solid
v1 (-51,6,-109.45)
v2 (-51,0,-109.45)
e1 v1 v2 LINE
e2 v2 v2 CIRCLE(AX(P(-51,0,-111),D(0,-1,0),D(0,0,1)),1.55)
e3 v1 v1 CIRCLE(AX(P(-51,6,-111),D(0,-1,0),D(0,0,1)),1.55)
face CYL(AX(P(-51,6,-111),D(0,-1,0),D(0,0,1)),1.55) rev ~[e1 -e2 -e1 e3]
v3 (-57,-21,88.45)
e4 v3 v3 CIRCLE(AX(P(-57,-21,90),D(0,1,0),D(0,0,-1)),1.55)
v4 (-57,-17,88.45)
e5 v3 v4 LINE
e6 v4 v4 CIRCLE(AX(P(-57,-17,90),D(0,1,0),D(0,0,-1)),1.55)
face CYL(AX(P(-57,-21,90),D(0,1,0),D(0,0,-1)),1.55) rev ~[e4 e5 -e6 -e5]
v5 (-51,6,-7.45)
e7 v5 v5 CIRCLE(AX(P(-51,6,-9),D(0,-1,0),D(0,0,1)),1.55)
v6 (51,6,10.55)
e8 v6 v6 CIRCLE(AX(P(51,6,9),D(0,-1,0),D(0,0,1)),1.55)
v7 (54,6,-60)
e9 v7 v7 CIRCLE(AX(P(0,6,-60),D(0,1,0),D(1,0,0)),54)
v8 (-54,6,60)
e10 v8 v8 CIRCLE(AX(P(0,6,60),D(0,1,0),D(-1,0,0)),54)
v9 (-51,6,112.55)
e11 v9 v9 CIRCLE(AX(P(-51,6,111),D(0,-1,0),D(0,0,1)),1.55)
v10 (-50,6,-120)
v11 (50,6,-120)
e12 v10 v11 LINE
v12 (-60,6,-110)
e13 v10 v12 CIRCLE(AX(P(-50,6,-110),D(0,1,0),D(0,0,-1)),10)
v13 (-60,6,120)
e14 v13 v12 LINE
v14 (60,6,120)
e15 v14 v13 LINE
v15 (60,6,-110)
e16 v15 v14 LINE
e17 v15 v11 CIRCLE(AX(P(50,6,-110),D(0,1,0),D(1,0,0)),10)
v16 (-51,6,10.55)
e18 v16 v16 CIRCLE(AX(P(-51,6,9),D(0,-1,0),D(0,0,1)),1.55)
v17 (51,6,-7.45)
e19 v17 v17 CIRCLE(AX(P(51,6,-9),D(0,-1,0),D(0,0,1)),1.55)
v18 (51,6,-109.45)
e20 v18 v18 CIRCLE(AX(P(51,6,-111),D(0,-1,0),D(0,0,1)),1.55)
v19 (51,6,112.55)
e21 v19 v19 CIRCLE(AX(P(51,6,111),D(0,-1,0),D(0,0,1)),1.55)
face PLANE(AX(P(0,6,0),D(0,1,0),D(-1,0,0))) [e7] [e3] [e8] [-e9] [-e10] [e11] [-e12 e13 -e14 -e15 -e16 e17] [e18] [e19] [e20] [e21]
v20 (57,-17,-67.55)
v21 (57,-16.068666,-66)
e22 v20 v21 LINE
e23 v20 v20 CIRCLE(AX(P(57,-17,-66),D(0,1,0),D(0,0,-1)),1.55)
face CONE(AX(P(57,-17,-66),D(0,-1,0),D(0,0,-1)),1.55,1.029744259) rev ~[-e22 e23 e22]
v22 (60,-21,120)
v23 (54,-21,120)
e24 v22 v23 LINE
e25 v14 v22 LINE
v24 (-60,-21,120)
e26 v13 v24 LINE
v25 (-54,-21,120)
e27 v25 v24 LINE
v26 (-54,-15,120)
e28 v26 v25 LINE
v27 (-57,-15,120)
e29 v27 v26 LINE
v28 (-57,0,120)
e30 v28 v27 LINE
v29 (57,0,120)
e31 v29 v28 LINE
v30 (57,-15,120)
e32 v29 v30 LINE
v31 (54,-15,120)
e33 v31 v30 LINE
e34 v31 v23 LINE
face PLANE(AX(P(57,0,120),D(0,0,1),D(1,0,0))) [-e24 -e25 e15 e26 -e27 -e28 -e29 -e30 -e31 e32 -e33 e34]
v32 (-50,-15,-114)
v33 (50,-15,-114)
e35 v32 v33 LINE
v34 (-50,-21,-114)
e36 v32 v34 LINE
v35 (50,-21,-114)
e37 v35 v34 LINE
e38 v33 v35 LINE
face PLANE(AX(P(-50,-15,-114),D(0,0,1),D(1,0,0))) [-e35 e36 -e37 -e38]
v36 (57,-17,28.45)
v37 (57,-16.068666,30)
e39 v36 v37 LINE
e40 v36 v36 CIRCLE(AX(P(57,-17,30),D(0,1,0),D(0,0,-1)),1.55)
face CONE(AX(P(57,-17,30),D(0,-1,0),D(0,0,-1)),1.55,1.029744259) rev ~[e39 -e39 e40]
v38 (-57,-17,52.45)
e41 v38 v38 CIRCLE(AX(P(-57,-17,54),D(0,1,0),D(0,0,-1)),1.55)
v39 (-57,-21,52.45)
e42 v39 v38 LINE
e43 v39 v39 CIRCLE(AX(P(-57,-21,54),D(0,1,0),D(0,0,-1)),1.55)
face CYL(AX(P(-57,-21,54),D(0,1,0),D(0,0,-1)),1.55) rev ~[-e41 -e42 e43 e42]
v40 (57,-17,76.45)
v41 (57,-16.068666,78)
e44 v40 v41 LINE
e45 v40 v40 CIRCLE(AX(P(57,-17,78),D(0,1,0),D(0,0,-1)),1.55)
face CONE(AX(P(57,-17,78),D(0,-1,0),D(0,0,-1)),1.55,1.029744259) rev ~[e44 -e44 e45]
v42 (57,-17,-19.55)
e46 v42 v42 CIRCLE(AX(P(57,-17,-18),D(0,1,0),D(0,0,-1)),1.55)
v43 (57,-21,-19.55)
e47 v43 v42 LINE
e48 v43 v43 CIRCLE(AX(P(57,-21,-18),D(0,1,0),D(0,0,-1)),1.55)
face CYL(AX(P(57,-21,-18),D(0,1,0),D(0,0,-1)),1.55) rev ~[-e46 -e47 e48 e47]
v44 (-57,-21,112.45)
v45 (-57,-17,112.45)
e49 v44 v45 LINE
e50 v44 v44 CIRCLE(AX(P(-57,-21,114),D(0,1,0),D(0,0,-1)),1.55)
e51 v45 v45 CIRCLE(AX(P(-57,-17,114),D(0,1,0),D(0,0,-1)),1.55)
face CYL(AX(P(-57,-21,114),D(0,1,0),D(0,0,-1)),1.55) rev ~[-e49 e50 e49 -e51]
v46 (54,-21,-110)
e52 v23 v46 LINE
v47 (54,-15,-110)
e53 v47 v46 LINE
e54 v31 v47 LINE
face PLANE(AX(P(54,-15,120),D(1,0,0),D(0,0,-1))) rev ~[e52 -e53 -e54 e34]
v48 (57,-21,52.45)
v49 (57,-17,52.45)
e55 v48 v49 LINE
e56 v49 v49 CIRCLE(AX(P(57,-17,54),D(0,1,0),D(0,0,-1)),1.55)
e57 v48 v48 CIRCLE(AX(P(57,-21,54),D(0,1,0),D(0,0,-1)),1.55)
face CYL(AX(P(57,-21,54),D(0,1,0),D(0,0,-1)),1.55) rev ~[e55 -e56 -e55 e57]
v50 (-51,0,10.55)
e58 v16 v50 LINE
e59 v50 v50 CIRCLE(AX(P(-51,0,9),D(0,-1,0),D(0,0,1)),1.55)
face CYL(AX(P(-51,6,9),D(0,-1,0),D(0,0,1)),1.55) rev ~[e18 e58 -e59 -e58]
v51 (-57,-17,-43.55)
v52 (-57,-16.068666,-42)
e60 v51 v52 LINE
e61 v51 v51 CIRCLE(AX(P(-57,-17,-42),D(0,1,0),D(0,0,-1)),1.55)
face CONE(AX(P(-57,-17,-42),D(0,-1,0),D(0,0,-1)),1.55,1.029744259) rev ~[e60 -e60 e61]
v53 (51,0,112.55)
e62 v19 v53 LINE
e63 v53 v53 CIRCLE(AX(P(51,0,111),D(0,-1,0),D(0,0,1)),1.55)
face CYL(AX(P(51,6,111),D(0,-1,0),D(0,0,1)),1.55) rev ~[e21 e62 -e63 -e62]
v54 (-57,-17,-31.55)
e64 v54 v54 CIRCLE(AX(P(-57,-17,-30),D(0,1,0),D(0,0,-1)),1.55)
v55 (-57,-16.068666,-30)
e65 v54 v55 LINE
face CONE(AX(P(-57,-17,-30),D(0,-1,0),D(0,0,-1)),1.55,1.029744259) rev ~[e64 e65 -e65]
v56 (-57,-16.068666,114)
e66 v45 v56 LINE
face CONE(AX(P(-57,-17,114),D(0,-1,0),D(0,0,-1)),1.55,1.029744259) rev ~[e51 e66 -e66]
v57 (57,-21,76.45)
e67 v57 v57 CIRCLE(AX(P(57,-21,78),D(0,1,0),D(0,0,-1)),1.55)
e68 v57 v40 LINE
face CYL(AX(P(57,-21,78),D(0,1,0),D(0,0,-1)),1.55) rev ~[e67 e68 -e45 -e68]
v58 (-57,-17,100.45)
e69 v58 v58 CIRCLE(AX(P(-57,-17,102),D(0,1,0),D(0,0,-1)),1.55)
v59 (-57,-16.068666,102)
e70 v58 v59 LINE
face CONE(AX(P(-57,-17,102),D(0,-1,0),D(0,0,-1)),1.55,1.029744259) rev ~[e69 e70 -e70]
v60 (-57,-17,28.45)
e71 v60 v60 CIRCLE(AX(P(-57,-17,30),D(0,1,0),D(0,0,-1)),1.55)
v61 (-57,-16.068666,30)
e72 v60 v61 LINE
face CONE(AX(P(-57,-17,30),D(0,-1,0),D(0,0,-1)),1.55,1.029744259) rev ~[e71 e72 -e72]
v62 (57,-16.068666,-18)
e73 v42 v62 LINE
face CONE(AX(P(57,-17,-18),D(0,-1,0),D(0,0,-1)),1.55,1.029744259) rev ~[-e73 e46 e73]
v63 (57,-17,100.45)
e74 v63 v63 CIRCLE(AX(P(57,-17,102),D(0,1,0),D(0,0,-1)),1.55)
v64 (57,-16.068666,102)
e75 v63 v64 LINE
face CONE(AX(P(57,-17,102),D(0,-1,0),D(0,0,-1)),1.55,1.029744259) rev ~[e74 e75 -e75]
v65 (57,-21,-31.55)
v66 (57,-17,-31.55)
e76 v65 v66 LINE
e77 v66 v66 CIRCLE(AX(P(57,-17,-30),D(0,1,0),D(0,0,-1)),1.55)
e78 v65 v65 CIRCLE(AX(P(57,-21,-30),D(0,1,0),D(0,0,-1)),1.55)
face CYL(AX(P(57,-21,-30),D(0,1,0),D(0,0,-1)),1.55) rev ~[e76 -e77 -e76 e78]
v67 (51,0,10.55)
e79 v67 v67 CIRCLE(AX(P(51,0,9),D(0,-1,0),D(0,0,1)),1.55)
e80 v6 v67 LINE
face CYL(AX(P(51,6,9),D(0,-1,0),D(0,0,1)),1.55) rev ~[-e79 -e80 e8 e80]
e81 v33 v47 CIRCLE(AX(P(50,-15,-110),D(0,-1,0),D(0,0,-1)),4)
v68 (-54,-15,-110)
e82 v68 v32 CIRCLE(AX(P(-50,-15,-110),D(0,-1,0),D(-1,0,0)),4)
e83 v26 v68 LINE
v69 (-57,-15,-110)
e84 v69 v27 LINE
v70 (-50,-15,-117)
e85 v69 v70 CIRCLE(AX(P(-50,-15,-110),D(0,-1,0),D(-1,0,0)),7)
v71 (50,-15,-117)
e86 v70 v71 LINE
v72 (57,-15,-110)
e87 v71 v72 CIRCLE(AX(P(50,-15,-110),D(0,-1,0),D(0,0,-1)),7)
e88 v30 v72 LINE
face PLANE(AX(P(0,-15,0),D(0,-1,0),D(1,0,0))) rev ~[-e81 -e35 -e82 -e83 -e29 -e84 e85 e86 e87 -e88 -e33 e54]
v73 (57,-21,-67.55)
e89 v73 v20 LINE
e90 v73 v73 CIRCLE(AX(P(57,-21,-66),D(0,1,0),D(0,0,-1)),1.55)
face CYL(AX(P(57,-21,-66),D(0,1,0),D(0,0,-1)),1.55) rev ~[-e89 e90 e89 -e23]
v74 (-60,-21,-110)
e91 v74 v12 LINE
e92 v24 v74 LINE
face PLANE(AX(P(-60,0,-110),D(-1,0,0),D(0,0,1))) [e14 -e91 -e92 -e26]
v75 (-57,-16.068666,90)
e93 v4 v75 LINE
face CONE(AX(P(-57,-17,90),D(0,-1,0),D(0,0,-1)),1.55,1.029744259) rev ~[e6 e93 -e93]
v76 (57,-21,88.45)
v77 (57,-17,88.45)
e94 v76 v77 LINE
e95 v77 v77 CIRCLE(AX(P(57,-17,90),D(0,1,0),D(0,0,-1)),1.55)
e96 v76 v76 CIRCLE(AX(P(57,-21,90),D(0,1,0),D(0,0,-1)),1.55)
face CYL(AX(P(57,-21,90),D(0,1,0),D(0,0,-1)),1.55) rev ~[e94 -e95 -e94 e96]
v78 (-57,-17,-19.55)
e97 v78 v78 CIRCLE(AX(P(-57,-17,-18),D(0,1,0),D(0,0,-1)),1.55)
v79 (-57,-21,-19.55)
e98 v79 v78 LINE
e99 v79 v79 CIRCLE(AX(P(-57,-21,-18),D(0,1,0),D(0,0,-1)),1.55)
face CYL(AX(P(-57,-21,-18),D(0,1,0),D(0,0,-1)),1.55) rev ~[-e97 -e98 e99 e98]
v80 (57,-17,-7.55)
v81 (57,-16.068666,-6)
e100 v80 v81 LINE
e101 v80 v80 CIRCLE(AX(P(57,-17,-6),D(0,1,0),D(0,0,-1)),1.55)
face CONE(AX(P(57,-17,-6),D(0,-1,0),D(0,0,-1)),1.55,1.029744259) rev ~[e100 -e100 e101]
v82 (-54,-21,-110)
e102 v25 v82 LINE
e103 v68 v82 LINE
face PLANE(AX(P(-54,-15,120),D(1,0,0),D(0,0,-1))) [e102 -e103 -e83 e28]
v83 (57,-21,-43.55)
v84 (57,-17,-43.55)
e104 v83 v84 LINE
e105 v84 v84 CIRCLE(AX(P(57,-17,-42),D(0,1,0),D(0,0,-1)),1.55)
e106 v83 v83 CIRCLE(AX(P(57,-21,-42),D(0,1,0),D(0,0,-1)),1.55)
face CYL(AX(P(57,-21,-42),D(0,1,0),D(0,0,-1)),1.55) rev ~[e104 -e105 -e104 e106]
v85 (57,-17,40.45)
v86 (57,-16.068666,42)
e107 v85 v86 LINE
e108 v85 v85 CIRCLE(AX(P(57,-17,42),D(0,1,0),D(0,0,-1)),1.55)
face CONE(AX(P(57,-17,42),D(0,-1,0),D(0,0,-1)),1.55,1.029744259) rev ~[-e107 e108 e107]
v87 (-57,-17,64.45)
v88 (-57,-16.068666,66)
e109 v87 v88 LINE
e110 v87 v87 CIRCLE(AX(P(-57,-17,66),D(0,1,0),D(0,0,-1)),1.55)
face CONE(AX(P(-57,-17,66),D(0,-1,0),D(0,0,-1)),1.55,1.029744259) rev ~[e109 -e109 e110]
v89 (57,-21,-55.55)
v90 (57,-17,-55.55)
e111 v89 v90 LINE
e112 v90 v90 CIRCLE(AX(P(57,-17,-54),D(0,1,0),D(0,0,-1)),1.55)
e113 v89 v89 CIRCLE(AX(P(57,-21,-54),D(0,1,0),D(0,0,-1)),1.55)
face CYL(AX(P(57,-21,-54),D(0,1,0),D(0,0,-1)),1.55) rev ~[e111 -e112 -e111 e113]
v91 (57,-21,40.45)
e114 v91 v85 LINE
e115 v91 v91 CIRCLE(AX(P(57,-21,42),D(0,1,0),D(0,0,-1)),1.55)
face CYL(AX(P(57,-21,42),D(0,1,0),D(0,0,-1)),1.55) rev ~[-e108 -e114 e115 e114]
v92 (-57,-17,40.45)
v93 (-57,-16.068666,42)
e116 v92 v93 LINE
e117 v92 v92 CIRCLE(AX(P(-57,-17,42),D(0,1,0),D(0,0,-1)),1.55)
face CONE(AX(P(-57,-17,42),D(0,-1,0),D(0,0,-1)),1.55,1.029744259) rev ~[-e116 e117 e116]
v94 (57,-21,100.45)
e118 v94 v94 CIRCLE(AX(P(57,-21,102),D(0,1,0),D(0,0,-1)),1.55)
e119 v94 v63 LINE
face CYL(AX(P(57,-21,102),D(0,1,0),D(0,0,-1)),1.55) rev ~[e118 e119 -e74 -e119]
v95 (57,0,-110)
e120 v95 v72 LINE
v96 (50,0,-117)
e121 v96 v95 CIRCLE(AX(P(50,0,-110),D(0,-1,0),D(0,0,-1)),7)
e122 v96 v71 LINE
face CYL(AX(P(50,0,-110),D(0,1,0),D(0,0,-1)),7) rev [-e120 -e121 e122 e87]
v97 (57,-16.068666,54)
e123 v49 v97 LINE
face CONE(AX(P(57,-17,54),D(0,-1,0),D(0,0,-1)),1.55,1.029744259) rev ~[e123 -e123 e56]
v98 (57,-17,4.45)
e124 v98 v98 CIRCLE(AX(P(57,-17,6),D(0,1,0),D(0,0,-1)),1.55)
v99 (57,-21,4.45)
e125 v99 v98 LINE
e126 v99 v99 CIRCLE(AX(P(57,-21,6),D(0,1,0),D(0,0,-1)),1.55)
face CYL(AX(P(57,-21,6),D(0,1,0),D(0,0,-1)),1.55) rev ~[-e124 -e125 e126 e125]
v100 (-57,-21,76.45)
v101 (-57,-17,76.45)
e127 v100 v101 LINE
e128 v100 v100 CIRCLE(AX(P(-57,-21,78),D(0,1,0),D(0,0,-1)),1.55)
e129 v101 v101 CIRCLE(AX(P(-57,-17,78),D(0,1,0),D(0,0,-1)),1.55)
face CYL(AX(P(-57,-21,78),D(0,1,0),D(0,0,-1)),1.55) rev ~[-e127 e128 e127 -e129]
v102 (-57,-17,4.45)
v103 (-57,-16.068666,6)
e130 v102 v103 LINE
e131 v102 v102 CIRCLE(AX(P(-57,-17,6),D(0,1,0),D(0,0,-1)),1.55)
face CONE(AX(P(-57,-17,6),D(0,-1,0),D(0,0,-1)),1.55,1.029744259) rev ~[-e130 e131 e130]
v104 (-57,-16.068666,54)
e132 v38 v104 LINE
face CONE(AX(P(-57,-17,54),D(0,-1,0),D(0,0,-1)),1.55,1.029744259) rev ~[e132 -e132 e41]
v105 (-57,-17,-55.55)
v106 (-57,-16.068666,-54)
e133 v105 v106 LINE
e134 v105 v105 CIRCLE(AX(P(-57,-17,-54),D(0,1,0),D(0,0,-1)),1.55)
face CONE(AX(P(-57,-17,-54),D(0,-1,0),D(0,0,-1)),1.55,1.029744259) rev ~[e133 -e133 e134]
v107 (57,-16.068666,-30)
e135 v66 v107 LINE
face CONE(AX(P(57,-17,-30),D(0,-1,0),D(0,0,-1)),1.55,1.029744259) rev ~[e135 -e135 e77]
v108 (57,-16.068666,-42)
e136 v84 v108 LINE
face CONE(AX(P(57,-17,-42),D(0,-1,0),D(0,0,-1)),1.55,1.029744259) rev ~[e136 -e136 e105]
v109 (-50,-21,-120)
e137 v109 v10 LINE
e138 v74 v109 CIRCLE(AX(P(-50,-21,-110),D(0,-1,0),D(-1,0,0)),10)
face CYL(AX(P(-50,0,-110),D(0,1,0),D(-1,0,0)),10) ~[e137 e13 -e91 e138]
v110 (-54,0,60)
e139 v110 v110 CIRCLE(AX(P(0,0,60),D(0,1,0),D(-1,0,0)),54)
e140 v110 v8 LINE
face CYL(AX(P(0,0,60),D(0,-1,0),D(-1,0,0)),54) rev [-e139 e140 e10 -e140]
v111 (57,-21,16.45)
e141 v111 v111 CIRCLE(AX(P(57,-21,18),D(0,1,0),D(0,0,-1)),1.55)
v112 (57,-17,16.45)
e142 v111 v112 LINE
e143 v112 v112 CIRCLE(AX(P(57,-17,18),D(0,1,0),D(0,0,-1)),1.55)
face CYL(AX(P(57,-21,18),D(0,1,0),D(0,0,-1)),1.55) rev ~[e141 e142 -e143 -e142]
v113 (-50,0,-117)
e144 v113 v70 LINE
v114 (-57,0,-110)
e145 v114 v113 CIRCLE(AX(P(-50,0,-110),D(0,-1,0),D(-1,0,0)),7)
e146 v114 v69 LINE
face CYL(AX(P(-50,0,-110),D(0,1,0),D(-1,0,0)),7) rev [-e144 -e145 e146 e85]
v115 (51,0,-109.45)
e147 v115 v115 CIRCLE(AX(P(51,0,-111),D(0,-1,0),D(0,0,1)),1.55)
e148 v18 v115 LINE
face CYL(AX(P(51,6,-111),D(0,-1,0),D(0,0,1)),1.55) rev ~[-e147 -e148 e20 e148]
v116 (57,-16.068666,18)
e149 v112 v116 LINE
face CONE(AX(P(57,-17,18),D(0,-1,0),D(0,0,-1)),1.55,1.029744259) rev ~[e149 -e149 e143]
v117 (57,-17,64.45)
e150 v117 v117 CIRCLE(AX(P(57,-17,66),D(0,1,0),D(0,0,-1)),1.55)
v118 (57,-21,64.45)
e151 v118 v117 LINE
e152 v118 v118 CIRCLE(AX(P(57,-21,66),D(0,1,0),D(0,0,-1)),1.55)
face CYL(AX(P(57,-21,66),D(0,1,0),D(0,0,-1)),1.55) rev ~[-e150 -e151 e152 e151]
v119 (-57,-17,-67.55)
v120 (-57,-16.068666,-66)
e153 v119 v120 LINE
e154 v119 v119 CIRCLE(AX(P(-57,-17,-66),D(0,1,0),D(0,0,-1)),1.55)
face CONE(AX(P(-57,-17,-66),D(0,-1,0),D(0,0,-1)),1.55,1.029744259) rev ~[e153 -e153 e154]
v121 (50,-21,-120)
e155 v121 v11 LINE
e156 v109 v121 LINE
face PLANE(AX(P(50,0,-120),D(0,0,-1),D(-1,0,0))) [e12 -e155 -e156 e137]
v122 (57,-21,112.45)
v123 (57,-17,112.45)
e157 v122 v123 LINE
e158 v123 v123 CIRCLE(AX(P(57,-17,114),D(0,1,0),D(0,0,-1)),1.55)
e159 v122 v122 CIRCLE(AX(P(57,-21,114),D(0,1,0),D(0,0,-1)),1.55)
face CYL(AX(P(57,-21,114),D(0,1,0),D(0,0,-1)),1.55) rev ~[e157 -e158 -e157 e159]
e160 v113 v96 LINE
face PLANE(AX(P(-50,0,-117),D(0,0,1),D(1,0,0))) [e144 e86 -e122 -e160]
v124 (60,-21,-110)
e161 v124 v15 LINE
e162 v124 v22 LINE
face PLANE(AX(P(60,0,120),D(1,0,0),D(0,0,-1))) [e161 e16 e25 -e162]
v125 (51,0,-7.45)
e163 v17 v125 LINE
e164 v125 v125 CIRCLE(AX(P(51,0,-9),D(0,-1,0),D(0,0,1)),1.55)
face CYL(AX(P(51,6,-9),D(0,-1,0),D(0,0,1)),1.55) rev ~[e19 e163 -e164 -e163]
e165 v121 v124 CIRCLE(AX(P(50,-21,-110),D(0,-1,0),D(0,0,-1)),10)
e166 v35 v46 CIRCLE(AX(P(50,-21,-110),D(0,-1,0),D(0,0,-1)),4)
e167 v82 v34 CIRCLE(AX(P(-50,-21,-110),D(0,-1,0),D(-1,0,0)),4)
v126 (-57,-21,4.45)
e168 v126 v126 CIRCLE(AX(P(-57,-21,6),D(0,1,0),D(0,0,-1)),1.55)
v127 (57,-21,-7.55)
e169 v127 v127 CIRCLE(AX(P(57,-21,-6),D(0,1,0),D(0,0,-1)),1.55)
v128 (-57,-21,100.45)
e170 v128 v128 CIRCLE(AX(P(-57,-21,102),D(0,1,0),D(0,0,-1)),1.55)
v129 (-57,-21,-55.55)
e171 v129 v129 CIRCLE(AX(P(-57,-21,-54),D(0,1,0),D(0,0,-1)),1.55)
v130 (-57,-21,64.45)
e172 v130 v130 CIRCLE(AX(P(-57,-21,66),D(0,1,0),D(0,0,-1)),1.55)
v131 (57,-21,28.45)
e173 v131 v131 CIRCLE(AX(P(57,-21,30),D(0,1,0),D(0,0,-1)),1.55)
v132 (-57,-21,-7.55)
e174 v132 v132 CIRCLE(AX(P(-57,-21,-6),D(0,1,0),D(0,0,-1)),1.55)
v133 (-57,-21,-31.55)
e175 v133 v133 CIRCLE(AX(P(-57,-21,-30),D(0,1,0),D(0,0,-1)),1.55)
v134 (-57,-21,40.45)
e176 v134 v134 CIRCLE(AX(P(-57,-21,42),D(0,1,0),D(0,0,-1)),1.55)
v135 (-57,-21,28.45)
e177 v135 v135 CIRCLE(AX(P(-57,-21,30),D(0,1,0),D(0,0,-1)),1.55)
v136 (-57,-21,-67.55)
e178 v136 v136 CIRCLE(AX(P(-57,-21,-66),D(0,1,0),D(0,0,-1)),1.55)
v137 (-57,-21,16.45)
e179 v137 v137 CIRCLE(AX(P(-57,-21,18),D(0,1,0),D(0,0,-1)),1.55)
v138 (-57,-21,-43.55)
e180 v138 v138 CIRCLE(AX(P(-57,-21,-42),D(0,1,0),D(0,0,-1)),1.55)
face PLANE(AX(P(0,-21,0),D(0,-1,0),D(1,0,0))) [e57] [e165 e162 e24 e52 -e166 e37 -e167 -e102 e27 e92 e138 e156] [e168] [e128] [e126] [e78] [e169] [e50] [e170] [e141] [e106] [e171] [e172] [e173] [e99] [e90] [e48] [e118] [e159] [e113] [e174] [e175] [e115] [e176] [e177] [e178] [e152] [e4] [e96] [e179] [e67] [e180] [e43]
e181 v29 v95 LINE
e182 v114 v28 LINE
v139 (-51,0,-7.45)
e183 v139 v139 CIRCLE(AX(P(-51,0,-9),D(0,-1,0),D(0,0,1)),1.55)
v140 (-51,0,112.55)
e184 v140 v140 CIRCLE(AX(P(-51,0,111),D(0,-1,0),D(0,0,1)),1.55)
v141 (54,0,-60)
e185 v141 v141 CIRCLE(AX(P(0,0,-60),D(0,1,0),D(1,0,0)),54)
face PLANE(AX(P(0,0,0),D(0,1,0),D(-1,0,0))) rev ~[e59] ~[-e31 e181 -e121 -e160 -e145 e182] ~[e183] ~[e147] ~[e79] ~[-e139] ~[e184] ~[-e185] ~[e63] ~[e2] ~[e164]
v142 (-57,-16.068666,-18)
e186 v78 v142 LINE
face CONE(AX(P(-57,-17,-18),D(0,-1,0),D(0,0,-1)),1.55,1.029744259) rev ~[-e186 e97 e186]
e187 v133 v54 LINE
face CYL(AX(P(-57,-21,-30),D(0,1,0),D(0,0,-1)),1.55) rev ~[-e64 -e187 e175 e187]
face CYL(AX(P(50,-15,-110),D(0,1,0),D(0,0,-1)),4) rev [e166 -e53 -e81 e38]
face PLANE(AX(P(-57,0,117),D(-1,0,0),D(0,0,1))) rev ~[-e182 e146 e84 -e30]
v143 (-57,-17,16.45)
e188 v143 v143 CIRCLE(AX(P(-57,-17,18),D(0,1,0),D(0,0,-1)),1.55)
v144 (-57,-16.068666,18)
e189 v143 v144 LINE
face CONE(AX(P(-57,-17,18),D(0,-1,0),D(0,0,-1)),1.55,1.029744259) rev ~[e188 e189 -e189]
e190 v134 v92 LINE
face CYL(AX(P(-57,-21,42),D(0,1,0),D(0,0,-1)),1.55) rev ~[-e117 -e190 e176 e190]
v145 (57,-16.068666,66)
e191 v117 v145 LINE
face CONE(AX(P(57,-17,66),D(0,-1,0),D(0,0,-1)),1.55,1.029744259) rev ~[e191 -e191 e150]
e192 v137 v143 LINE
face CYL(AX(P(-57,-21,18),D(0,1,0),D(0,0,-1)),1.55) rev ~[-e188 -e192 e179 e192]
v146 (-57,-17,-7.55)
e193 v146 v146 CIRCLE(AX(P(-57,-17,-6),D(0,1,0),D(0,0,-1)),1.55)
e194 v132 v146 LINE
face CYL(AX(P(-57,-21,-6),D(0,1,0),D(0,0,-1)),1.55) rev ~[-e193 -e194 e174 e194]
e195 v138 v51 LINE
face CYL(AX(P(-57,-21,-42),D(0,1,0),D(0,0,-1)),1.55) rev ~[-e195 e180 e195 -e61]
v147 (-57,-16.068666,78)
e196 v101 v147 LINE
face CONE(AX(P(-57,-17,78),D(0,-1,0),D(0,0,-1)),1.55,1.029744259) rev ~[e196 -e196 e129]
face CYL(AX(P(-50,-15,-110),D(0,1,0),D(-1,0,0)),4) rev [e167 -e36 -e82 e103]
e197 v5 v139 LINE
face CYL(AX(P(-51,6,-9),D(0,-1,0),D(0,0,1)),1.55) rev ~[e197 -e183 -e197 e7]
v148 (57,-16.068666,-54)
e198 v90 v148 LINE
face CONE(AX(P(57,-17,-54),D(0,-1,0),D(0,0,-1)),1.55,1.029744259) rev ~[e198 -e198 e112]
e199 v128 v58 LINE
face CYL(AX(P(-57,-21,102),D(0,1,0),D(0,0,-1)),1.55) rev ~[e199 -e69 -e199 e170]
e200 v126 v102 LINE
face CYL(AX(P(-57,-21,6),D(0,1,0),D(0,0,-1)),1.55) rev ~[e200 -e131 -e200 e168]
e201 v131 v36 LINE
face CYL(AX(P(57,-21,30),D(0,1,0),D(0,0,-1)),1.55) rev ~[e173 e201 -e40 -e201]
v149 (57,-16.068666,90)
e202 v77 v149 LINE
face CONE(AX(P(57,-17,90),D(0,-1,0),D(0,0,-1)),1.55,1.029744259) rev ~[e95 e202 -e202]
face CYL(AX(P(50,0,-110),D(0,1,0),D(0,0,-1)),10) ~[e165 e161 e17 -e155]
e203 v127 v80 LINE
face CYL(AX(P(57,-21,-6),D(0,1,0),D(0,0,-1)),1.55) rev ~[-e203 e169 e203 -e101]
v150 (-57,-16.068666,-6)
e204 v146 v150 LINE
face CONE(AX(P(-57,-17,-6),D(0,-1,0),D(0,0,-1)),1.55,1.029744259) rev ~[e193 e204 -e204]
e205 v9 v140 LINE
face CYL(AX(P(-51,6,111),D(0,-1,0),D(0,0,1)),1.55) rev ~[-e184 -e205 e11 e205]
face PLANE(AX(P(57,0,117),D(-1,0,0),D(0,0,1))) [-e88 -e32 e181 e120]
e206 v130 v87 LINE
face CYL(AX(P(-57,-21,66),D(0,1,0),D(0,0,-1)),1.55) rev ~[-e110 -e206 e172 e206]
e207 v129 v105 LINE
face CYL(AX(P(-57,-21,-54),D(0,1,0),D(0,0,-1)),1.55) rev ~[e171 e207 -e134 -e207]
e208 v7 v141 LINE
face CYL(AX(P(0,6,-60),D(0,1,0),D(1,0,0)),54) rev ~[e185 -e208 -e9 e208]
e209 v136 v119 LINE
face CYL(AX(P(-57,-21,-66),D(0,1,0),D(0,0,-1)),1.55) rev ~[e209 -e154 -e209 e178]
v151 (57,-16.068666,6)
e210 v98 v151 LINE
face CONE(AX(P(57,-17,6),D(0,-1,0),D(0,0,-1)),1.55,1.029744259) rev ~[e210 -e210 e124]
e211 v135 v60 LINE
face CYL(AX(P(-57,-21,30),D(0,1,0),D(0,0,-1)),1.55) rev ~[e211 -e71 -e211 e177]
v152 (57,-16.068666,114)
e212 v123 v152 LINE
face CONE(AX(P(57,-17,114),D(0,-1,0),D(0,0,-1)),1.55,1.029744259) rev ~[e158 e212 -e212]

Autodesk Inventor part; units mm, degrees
ref_plane "YZ Plane" through (0, 0, 0) normal (1, 0, 0) x (0, 1, 0)
ref_plane "XZ Plane" through (0, 0, 0) normal (0, 1, 0) x (-1, 0, 0)
ref_plane "XY Plane" through (0, 0, 0) normal (0, 0, 1) x (1, 0, 0)
sketch "Sketch1" plane through (0, 0, 0) normal (0, 1, 0) x (-1, 0, 0)
  line L0 (-60, 120) -> (60, 120)
  line L1 (60, 120) -> (60, -110)
  line L2 (50, -120) -> (-50, -120)
  line L3 (-60, -110) -> (-60, 120)
  line L4 (-60, 120) -> (60, -120) construction
  line L5 (60, 120) -> (-60, -120) construction
  line L6 (-60, 120) -> (60, 120)
  line L7 (60, 120) -> (60, 0)
  line L8 (60, 0) -> (-60, 0)
  line L9 (-60, 0) -> (-60, 120)
  line L10 (60, 0) -> (-60, 120) construction
  line L11 (-60, 0) -> (60, 120) construction
  circle A0 centre (0, 60) radius 54
  line L12 (54, 60) -> (60, 60) construction
  arc A1 (50, -120) -> (60, -110) centre (50, -110) ccw
  arc A2 (-60, -110) -> (-50, -120) centre (-50, -110) ccw
  point P0 (0, 0)
  dimension "d0" = 120
  dimension "d1" = 240
  dimension "d2" = 120
  dimension "d3" = 6
  dimension "d4" = 10
extrude "Extrusion1" add sketch "Sketch1" along normal blind 6
sketch "Sketch2" plane through (0, 0, 0) normal (0, -1, 0) x (1, 0, 0)
  circle A0 centre (0, 60) radius 54 construction
  line L0 (60, 120) -> (60, -110) projected
  line L1 (-60, 120) -> (60, 120) projected
  line L2 (-60, -110) -> (-60, 120) projected
  arc A1 (-60, -110) -> (-50, -120) centre (-50, -110) ccw projected
  line L3 (50, -120) -> (-50, -120) projected
  arc A2 (50, -120) -> (60, -110) centre (50, -110) ccw projected
  line L4 (57, -110) -> (57, 117)
  line L5 (57, 117) -> (-57, 117)
  line L6 (-57, 117) -> (-57, -110)
  arc A3 (-57, -110) -> (-50, -117) centre (-50, -110) ccw
  line L7 (-50, -117) -> (50, -117)
  arc A4 (50, -117) -> (57, -110) centre (50, -110) ccw
  line L8 (57, 117) -> (57, 120)
  line L9 (-57, 117) -> (-57, 120)
  point P0 (0, 0)
  dimension "d7" = 3
extrude "Extrusion2" add sketch "Sketch2" along normal blind 15 contours L0 A2 L3 A1 L2 L1 L9 L6 A3 L7 A4 L4 L8
sketch "Sketch3" plane through (0, -15, 0) normal (0, -1, 0) x (1, 0, 0)
  line L0 (60, -110) -> (60, 120) projected
  line L1 (60, 120) -> (57, 120) projected
  line L2 (57, 120) -> (57, -110) projected
  arc A0 (50, -117) -> (57, -110) centre (50, -110) ccw projected
  line L3 (50, -117) -> (-50, -117) projected
  arc A1 (-57, -110) -> (-50, -117) centre (-50, -110) ccw projected
  line L4 (-57, -110) -> (-57, 120) projected
  line L5 (-57, 120) -> (-60, 120) projected
  line L6 (-60, 120) -> (-60, -110) projected
  arc A2 (-60, -110) -> (-50, -120) centre (-50, -110) ccw projected
  line L7 (-50, -120) -> (50, -120) projected
  arc A3 (50, -120) -> (60, -110) centre (50, -110) ccw projected
  line L8 (57, 120) -> (54, 120)
  line L9 (-60, 120) -> (60, 120) construction
  line L10 (54, 120) -> (54, -110)
  line L11 (50, -114) -> (25, -114)
  arc A4 (50, -114) -> (54, -110) centre (50, -110) ccw
  line L12 (0, 0) -> (0, -136) construction
  line L13 (-57, 120) -> (-54, 120)
  line L14 (-54, 120) -> (-54, -110)
  line L15 (-50, -114) -> (25, -114)
  arc A5 (-54, -110) -> (-50, -114) centre (-50, -110) ccw
  dimension "d10" = 3
extrude "Extrusion3" add sketch "Sketch3" along normal blind 6
sketch "Sketch5" plane through (0, 6, 0) normal (0, 1, 0) x (1, 0, 0)
  circle A0 centre (0, -60) radius 54 projected
  line L0 (60, -120) -> (60, 110) projected
  arc A1 (60, 110) -> (50, 120) centre (50, 110) ccw projected
  line L1 (50, 120) -> (-50, 120) projected
  arc A2 (-50, 120) -> (-60, 110) centre (-50, 110) ccw projected
  line L2 (-60, 110) -> (-60, -120) projected
  line L3 (-60, -120) -> (60, -120) projected
  line L4 (-67.6504, 0) -> (67.3496, 0) construction
  circle A3 centre (0, 60) radius 54
  point P0 (0, 0)
extrude "Extrusion4" cut sketch "Sketch5" against normal up to next contours A3
sketch "Sketch6" plane through (0, 6, 0) normal (0, 1, 0) x (1, 0, 0)
  circle A0 centre (0, -60) radius 54 projected
  circle A1 centre (0, 60) radius 54 projected
  circle A2 centre (0, 60) radius 54 projected
  circle A3 centre (0, -60) radius 54 projected
  line L0 (60, -120) -> (60, 110) projected
  arc A4 (60, 110) -> (50, 120) centre (50, 110) ccw projected
  line L1 (50, 120) -> (-50, 120) projected
  arc A5 (-50, 120) -> (-60, 110) centre (-50, 110) ccw projected
  line L2 (-60, 110) -> (-60, -120) projected
  line L3 (-60, -120) -> (60, -120) projected
  line L4 (-50.0326, 0) -> (43.9674, 0) construction
  line L5 (0, -60) -> (-70, -60) construction
  line L6 (0, -60) -> (0, -118) construction
  point P0 (0, 0)
  point P1 (-51, -9)
  point P2 (-51, -111)
  point P3 (51, -9)
  point P4 (51, -111)
  point P5 (-51, 9)
  point P6 (-51, 111)
  point P7 (51, 111)
  point P8 (51, 9)
  dimension "d15" = 18
  dimension "d16" = 9
hole "Hole1" at (-51, 6, 9) at (-51, 6, 111) at (51, 6, 111) at (51, 6, 9) at (-51, 6, -111) at (-51, 6, -9) at (51, 6, -111) at (51, 6, -9) direction (0, -1, 0) diameter 3.1 end through all
sketch "Sketch7" plane through (0, -21, 0) normal (0, -1, 0) x (1, 0, 0)
  line L0 (57, 120) -> (57, -110) construction
  line L1 (57, -110) -> (57, 120) projected
  line L2 (-57, -110) -> (-57, 120) construction
  line L3 (-57, 120) -> (-57, -110) projected
  line L4 (57, 120) -> (57, -110) projected
  line L5 (0, 119) -> (0, 0) construction
  point P0 (57, 60)
  point P1 (57, -60)
  point P2 (57, 114)
  point P3 (-57, 114)
  point P4 (-57, 102)
  point P5 (57, 102)
  point P6 (-57, 90)
  point P7 (57, 90)
  point P8 (-57, 78)
  point P9 (57, 78)
  point P10 (-57, 66)
  point P11 (57, 66)
  point P12 (-57, 54)
  point P13 (57, 54)
  point P14 (-57, 42)
  point P15 (57, 42)
  point P16 (-57, 30)
  point P17 (57, 30)
  point P18 (-57, 18)
  point P19 (57, 18)
  point P20 (-57, 6)
  point P21 (57, 6)
  point P22 (-57, -6)
  point P23 (57, -6)
  point P24 (-57, -18)
  point P25 (57, -18)
  point P26 (-57, -30)
  point P27 (57, -30)
  point P28 (-57, -42)
  point P29 (57, -42)
  point P30 (-57, -54)
  point P31 (57, -54)
  point P32 (-57, -66)
  point P33 (57, -66)
  dimension "d24" = 6
  dimension "d27" = 12
hole "Hole2" at (57, -21, 114) at (-57, -21, 114) at (-57, -21, 102) at (57, -21, 102) at (-57, -21, 90) at (57, -21, 90) at (-57, -21, 78) at (57, -21, 78) at (-57, -21, 66) at (57, -21, 66) at (-57, -21, 54) at (57, -21, 54) at (-57, -21, 42) at (57, -21, 42) at (-57, -21, 30) at (57, -21, 30) at (-57, -21, 18) at (57, -21, 18) at (-57, -21, 6) at (57, -21, 6) at (-57, -21, -6) at (57, -21, -6) at (-57, -21, -18) at (57, -21, -18) at (-57, -21, -30) at (57, -21, -30) at (-57, -21, -42) at (57, -21, -42) at (-57, -21, -54) at (57, -21, -54) at (-57, -21, -66) at (57, -21, -66) direction (0, 1, 0) diameter 3.1 depth 4 tip angle 118
equation "\"d0\" = hull_width"
equation "\"d1\" = hull_length"
equation "\"d2\" = hull_width"
equation "\"d3\" = 2 * thickness"
equation "\"d4\" = roundness"
equation "\"d5\" = 2 * thickness"
equation "\"d7\" = thickness"
equation "\"d8\" = 5 * thickness"
equation "\"d10\" = thickness"
equation "\"d11\" = 2 * thickness"
equation "\"d13\" = 2 * thickness"
equation "\"d15\" = 6 * thickness"
equation "\"d16\" = 3 * thickness"
equation "\"d22\" = 1.33333 * thickness"
equation "\"d24\" = 2 * thickness"
equation "\"d27\" = 4 * thickness"
equation "\"d37\" = 1.33333 * thickness"
equation "\"thickness\" = 3"
equation "\"roundness\" = 10"
equation "\"hull_width\" = 120"
equation "\"hull_length\" = 2 * hull_width"
properties part number "Cup_Dispenser_Hull"
